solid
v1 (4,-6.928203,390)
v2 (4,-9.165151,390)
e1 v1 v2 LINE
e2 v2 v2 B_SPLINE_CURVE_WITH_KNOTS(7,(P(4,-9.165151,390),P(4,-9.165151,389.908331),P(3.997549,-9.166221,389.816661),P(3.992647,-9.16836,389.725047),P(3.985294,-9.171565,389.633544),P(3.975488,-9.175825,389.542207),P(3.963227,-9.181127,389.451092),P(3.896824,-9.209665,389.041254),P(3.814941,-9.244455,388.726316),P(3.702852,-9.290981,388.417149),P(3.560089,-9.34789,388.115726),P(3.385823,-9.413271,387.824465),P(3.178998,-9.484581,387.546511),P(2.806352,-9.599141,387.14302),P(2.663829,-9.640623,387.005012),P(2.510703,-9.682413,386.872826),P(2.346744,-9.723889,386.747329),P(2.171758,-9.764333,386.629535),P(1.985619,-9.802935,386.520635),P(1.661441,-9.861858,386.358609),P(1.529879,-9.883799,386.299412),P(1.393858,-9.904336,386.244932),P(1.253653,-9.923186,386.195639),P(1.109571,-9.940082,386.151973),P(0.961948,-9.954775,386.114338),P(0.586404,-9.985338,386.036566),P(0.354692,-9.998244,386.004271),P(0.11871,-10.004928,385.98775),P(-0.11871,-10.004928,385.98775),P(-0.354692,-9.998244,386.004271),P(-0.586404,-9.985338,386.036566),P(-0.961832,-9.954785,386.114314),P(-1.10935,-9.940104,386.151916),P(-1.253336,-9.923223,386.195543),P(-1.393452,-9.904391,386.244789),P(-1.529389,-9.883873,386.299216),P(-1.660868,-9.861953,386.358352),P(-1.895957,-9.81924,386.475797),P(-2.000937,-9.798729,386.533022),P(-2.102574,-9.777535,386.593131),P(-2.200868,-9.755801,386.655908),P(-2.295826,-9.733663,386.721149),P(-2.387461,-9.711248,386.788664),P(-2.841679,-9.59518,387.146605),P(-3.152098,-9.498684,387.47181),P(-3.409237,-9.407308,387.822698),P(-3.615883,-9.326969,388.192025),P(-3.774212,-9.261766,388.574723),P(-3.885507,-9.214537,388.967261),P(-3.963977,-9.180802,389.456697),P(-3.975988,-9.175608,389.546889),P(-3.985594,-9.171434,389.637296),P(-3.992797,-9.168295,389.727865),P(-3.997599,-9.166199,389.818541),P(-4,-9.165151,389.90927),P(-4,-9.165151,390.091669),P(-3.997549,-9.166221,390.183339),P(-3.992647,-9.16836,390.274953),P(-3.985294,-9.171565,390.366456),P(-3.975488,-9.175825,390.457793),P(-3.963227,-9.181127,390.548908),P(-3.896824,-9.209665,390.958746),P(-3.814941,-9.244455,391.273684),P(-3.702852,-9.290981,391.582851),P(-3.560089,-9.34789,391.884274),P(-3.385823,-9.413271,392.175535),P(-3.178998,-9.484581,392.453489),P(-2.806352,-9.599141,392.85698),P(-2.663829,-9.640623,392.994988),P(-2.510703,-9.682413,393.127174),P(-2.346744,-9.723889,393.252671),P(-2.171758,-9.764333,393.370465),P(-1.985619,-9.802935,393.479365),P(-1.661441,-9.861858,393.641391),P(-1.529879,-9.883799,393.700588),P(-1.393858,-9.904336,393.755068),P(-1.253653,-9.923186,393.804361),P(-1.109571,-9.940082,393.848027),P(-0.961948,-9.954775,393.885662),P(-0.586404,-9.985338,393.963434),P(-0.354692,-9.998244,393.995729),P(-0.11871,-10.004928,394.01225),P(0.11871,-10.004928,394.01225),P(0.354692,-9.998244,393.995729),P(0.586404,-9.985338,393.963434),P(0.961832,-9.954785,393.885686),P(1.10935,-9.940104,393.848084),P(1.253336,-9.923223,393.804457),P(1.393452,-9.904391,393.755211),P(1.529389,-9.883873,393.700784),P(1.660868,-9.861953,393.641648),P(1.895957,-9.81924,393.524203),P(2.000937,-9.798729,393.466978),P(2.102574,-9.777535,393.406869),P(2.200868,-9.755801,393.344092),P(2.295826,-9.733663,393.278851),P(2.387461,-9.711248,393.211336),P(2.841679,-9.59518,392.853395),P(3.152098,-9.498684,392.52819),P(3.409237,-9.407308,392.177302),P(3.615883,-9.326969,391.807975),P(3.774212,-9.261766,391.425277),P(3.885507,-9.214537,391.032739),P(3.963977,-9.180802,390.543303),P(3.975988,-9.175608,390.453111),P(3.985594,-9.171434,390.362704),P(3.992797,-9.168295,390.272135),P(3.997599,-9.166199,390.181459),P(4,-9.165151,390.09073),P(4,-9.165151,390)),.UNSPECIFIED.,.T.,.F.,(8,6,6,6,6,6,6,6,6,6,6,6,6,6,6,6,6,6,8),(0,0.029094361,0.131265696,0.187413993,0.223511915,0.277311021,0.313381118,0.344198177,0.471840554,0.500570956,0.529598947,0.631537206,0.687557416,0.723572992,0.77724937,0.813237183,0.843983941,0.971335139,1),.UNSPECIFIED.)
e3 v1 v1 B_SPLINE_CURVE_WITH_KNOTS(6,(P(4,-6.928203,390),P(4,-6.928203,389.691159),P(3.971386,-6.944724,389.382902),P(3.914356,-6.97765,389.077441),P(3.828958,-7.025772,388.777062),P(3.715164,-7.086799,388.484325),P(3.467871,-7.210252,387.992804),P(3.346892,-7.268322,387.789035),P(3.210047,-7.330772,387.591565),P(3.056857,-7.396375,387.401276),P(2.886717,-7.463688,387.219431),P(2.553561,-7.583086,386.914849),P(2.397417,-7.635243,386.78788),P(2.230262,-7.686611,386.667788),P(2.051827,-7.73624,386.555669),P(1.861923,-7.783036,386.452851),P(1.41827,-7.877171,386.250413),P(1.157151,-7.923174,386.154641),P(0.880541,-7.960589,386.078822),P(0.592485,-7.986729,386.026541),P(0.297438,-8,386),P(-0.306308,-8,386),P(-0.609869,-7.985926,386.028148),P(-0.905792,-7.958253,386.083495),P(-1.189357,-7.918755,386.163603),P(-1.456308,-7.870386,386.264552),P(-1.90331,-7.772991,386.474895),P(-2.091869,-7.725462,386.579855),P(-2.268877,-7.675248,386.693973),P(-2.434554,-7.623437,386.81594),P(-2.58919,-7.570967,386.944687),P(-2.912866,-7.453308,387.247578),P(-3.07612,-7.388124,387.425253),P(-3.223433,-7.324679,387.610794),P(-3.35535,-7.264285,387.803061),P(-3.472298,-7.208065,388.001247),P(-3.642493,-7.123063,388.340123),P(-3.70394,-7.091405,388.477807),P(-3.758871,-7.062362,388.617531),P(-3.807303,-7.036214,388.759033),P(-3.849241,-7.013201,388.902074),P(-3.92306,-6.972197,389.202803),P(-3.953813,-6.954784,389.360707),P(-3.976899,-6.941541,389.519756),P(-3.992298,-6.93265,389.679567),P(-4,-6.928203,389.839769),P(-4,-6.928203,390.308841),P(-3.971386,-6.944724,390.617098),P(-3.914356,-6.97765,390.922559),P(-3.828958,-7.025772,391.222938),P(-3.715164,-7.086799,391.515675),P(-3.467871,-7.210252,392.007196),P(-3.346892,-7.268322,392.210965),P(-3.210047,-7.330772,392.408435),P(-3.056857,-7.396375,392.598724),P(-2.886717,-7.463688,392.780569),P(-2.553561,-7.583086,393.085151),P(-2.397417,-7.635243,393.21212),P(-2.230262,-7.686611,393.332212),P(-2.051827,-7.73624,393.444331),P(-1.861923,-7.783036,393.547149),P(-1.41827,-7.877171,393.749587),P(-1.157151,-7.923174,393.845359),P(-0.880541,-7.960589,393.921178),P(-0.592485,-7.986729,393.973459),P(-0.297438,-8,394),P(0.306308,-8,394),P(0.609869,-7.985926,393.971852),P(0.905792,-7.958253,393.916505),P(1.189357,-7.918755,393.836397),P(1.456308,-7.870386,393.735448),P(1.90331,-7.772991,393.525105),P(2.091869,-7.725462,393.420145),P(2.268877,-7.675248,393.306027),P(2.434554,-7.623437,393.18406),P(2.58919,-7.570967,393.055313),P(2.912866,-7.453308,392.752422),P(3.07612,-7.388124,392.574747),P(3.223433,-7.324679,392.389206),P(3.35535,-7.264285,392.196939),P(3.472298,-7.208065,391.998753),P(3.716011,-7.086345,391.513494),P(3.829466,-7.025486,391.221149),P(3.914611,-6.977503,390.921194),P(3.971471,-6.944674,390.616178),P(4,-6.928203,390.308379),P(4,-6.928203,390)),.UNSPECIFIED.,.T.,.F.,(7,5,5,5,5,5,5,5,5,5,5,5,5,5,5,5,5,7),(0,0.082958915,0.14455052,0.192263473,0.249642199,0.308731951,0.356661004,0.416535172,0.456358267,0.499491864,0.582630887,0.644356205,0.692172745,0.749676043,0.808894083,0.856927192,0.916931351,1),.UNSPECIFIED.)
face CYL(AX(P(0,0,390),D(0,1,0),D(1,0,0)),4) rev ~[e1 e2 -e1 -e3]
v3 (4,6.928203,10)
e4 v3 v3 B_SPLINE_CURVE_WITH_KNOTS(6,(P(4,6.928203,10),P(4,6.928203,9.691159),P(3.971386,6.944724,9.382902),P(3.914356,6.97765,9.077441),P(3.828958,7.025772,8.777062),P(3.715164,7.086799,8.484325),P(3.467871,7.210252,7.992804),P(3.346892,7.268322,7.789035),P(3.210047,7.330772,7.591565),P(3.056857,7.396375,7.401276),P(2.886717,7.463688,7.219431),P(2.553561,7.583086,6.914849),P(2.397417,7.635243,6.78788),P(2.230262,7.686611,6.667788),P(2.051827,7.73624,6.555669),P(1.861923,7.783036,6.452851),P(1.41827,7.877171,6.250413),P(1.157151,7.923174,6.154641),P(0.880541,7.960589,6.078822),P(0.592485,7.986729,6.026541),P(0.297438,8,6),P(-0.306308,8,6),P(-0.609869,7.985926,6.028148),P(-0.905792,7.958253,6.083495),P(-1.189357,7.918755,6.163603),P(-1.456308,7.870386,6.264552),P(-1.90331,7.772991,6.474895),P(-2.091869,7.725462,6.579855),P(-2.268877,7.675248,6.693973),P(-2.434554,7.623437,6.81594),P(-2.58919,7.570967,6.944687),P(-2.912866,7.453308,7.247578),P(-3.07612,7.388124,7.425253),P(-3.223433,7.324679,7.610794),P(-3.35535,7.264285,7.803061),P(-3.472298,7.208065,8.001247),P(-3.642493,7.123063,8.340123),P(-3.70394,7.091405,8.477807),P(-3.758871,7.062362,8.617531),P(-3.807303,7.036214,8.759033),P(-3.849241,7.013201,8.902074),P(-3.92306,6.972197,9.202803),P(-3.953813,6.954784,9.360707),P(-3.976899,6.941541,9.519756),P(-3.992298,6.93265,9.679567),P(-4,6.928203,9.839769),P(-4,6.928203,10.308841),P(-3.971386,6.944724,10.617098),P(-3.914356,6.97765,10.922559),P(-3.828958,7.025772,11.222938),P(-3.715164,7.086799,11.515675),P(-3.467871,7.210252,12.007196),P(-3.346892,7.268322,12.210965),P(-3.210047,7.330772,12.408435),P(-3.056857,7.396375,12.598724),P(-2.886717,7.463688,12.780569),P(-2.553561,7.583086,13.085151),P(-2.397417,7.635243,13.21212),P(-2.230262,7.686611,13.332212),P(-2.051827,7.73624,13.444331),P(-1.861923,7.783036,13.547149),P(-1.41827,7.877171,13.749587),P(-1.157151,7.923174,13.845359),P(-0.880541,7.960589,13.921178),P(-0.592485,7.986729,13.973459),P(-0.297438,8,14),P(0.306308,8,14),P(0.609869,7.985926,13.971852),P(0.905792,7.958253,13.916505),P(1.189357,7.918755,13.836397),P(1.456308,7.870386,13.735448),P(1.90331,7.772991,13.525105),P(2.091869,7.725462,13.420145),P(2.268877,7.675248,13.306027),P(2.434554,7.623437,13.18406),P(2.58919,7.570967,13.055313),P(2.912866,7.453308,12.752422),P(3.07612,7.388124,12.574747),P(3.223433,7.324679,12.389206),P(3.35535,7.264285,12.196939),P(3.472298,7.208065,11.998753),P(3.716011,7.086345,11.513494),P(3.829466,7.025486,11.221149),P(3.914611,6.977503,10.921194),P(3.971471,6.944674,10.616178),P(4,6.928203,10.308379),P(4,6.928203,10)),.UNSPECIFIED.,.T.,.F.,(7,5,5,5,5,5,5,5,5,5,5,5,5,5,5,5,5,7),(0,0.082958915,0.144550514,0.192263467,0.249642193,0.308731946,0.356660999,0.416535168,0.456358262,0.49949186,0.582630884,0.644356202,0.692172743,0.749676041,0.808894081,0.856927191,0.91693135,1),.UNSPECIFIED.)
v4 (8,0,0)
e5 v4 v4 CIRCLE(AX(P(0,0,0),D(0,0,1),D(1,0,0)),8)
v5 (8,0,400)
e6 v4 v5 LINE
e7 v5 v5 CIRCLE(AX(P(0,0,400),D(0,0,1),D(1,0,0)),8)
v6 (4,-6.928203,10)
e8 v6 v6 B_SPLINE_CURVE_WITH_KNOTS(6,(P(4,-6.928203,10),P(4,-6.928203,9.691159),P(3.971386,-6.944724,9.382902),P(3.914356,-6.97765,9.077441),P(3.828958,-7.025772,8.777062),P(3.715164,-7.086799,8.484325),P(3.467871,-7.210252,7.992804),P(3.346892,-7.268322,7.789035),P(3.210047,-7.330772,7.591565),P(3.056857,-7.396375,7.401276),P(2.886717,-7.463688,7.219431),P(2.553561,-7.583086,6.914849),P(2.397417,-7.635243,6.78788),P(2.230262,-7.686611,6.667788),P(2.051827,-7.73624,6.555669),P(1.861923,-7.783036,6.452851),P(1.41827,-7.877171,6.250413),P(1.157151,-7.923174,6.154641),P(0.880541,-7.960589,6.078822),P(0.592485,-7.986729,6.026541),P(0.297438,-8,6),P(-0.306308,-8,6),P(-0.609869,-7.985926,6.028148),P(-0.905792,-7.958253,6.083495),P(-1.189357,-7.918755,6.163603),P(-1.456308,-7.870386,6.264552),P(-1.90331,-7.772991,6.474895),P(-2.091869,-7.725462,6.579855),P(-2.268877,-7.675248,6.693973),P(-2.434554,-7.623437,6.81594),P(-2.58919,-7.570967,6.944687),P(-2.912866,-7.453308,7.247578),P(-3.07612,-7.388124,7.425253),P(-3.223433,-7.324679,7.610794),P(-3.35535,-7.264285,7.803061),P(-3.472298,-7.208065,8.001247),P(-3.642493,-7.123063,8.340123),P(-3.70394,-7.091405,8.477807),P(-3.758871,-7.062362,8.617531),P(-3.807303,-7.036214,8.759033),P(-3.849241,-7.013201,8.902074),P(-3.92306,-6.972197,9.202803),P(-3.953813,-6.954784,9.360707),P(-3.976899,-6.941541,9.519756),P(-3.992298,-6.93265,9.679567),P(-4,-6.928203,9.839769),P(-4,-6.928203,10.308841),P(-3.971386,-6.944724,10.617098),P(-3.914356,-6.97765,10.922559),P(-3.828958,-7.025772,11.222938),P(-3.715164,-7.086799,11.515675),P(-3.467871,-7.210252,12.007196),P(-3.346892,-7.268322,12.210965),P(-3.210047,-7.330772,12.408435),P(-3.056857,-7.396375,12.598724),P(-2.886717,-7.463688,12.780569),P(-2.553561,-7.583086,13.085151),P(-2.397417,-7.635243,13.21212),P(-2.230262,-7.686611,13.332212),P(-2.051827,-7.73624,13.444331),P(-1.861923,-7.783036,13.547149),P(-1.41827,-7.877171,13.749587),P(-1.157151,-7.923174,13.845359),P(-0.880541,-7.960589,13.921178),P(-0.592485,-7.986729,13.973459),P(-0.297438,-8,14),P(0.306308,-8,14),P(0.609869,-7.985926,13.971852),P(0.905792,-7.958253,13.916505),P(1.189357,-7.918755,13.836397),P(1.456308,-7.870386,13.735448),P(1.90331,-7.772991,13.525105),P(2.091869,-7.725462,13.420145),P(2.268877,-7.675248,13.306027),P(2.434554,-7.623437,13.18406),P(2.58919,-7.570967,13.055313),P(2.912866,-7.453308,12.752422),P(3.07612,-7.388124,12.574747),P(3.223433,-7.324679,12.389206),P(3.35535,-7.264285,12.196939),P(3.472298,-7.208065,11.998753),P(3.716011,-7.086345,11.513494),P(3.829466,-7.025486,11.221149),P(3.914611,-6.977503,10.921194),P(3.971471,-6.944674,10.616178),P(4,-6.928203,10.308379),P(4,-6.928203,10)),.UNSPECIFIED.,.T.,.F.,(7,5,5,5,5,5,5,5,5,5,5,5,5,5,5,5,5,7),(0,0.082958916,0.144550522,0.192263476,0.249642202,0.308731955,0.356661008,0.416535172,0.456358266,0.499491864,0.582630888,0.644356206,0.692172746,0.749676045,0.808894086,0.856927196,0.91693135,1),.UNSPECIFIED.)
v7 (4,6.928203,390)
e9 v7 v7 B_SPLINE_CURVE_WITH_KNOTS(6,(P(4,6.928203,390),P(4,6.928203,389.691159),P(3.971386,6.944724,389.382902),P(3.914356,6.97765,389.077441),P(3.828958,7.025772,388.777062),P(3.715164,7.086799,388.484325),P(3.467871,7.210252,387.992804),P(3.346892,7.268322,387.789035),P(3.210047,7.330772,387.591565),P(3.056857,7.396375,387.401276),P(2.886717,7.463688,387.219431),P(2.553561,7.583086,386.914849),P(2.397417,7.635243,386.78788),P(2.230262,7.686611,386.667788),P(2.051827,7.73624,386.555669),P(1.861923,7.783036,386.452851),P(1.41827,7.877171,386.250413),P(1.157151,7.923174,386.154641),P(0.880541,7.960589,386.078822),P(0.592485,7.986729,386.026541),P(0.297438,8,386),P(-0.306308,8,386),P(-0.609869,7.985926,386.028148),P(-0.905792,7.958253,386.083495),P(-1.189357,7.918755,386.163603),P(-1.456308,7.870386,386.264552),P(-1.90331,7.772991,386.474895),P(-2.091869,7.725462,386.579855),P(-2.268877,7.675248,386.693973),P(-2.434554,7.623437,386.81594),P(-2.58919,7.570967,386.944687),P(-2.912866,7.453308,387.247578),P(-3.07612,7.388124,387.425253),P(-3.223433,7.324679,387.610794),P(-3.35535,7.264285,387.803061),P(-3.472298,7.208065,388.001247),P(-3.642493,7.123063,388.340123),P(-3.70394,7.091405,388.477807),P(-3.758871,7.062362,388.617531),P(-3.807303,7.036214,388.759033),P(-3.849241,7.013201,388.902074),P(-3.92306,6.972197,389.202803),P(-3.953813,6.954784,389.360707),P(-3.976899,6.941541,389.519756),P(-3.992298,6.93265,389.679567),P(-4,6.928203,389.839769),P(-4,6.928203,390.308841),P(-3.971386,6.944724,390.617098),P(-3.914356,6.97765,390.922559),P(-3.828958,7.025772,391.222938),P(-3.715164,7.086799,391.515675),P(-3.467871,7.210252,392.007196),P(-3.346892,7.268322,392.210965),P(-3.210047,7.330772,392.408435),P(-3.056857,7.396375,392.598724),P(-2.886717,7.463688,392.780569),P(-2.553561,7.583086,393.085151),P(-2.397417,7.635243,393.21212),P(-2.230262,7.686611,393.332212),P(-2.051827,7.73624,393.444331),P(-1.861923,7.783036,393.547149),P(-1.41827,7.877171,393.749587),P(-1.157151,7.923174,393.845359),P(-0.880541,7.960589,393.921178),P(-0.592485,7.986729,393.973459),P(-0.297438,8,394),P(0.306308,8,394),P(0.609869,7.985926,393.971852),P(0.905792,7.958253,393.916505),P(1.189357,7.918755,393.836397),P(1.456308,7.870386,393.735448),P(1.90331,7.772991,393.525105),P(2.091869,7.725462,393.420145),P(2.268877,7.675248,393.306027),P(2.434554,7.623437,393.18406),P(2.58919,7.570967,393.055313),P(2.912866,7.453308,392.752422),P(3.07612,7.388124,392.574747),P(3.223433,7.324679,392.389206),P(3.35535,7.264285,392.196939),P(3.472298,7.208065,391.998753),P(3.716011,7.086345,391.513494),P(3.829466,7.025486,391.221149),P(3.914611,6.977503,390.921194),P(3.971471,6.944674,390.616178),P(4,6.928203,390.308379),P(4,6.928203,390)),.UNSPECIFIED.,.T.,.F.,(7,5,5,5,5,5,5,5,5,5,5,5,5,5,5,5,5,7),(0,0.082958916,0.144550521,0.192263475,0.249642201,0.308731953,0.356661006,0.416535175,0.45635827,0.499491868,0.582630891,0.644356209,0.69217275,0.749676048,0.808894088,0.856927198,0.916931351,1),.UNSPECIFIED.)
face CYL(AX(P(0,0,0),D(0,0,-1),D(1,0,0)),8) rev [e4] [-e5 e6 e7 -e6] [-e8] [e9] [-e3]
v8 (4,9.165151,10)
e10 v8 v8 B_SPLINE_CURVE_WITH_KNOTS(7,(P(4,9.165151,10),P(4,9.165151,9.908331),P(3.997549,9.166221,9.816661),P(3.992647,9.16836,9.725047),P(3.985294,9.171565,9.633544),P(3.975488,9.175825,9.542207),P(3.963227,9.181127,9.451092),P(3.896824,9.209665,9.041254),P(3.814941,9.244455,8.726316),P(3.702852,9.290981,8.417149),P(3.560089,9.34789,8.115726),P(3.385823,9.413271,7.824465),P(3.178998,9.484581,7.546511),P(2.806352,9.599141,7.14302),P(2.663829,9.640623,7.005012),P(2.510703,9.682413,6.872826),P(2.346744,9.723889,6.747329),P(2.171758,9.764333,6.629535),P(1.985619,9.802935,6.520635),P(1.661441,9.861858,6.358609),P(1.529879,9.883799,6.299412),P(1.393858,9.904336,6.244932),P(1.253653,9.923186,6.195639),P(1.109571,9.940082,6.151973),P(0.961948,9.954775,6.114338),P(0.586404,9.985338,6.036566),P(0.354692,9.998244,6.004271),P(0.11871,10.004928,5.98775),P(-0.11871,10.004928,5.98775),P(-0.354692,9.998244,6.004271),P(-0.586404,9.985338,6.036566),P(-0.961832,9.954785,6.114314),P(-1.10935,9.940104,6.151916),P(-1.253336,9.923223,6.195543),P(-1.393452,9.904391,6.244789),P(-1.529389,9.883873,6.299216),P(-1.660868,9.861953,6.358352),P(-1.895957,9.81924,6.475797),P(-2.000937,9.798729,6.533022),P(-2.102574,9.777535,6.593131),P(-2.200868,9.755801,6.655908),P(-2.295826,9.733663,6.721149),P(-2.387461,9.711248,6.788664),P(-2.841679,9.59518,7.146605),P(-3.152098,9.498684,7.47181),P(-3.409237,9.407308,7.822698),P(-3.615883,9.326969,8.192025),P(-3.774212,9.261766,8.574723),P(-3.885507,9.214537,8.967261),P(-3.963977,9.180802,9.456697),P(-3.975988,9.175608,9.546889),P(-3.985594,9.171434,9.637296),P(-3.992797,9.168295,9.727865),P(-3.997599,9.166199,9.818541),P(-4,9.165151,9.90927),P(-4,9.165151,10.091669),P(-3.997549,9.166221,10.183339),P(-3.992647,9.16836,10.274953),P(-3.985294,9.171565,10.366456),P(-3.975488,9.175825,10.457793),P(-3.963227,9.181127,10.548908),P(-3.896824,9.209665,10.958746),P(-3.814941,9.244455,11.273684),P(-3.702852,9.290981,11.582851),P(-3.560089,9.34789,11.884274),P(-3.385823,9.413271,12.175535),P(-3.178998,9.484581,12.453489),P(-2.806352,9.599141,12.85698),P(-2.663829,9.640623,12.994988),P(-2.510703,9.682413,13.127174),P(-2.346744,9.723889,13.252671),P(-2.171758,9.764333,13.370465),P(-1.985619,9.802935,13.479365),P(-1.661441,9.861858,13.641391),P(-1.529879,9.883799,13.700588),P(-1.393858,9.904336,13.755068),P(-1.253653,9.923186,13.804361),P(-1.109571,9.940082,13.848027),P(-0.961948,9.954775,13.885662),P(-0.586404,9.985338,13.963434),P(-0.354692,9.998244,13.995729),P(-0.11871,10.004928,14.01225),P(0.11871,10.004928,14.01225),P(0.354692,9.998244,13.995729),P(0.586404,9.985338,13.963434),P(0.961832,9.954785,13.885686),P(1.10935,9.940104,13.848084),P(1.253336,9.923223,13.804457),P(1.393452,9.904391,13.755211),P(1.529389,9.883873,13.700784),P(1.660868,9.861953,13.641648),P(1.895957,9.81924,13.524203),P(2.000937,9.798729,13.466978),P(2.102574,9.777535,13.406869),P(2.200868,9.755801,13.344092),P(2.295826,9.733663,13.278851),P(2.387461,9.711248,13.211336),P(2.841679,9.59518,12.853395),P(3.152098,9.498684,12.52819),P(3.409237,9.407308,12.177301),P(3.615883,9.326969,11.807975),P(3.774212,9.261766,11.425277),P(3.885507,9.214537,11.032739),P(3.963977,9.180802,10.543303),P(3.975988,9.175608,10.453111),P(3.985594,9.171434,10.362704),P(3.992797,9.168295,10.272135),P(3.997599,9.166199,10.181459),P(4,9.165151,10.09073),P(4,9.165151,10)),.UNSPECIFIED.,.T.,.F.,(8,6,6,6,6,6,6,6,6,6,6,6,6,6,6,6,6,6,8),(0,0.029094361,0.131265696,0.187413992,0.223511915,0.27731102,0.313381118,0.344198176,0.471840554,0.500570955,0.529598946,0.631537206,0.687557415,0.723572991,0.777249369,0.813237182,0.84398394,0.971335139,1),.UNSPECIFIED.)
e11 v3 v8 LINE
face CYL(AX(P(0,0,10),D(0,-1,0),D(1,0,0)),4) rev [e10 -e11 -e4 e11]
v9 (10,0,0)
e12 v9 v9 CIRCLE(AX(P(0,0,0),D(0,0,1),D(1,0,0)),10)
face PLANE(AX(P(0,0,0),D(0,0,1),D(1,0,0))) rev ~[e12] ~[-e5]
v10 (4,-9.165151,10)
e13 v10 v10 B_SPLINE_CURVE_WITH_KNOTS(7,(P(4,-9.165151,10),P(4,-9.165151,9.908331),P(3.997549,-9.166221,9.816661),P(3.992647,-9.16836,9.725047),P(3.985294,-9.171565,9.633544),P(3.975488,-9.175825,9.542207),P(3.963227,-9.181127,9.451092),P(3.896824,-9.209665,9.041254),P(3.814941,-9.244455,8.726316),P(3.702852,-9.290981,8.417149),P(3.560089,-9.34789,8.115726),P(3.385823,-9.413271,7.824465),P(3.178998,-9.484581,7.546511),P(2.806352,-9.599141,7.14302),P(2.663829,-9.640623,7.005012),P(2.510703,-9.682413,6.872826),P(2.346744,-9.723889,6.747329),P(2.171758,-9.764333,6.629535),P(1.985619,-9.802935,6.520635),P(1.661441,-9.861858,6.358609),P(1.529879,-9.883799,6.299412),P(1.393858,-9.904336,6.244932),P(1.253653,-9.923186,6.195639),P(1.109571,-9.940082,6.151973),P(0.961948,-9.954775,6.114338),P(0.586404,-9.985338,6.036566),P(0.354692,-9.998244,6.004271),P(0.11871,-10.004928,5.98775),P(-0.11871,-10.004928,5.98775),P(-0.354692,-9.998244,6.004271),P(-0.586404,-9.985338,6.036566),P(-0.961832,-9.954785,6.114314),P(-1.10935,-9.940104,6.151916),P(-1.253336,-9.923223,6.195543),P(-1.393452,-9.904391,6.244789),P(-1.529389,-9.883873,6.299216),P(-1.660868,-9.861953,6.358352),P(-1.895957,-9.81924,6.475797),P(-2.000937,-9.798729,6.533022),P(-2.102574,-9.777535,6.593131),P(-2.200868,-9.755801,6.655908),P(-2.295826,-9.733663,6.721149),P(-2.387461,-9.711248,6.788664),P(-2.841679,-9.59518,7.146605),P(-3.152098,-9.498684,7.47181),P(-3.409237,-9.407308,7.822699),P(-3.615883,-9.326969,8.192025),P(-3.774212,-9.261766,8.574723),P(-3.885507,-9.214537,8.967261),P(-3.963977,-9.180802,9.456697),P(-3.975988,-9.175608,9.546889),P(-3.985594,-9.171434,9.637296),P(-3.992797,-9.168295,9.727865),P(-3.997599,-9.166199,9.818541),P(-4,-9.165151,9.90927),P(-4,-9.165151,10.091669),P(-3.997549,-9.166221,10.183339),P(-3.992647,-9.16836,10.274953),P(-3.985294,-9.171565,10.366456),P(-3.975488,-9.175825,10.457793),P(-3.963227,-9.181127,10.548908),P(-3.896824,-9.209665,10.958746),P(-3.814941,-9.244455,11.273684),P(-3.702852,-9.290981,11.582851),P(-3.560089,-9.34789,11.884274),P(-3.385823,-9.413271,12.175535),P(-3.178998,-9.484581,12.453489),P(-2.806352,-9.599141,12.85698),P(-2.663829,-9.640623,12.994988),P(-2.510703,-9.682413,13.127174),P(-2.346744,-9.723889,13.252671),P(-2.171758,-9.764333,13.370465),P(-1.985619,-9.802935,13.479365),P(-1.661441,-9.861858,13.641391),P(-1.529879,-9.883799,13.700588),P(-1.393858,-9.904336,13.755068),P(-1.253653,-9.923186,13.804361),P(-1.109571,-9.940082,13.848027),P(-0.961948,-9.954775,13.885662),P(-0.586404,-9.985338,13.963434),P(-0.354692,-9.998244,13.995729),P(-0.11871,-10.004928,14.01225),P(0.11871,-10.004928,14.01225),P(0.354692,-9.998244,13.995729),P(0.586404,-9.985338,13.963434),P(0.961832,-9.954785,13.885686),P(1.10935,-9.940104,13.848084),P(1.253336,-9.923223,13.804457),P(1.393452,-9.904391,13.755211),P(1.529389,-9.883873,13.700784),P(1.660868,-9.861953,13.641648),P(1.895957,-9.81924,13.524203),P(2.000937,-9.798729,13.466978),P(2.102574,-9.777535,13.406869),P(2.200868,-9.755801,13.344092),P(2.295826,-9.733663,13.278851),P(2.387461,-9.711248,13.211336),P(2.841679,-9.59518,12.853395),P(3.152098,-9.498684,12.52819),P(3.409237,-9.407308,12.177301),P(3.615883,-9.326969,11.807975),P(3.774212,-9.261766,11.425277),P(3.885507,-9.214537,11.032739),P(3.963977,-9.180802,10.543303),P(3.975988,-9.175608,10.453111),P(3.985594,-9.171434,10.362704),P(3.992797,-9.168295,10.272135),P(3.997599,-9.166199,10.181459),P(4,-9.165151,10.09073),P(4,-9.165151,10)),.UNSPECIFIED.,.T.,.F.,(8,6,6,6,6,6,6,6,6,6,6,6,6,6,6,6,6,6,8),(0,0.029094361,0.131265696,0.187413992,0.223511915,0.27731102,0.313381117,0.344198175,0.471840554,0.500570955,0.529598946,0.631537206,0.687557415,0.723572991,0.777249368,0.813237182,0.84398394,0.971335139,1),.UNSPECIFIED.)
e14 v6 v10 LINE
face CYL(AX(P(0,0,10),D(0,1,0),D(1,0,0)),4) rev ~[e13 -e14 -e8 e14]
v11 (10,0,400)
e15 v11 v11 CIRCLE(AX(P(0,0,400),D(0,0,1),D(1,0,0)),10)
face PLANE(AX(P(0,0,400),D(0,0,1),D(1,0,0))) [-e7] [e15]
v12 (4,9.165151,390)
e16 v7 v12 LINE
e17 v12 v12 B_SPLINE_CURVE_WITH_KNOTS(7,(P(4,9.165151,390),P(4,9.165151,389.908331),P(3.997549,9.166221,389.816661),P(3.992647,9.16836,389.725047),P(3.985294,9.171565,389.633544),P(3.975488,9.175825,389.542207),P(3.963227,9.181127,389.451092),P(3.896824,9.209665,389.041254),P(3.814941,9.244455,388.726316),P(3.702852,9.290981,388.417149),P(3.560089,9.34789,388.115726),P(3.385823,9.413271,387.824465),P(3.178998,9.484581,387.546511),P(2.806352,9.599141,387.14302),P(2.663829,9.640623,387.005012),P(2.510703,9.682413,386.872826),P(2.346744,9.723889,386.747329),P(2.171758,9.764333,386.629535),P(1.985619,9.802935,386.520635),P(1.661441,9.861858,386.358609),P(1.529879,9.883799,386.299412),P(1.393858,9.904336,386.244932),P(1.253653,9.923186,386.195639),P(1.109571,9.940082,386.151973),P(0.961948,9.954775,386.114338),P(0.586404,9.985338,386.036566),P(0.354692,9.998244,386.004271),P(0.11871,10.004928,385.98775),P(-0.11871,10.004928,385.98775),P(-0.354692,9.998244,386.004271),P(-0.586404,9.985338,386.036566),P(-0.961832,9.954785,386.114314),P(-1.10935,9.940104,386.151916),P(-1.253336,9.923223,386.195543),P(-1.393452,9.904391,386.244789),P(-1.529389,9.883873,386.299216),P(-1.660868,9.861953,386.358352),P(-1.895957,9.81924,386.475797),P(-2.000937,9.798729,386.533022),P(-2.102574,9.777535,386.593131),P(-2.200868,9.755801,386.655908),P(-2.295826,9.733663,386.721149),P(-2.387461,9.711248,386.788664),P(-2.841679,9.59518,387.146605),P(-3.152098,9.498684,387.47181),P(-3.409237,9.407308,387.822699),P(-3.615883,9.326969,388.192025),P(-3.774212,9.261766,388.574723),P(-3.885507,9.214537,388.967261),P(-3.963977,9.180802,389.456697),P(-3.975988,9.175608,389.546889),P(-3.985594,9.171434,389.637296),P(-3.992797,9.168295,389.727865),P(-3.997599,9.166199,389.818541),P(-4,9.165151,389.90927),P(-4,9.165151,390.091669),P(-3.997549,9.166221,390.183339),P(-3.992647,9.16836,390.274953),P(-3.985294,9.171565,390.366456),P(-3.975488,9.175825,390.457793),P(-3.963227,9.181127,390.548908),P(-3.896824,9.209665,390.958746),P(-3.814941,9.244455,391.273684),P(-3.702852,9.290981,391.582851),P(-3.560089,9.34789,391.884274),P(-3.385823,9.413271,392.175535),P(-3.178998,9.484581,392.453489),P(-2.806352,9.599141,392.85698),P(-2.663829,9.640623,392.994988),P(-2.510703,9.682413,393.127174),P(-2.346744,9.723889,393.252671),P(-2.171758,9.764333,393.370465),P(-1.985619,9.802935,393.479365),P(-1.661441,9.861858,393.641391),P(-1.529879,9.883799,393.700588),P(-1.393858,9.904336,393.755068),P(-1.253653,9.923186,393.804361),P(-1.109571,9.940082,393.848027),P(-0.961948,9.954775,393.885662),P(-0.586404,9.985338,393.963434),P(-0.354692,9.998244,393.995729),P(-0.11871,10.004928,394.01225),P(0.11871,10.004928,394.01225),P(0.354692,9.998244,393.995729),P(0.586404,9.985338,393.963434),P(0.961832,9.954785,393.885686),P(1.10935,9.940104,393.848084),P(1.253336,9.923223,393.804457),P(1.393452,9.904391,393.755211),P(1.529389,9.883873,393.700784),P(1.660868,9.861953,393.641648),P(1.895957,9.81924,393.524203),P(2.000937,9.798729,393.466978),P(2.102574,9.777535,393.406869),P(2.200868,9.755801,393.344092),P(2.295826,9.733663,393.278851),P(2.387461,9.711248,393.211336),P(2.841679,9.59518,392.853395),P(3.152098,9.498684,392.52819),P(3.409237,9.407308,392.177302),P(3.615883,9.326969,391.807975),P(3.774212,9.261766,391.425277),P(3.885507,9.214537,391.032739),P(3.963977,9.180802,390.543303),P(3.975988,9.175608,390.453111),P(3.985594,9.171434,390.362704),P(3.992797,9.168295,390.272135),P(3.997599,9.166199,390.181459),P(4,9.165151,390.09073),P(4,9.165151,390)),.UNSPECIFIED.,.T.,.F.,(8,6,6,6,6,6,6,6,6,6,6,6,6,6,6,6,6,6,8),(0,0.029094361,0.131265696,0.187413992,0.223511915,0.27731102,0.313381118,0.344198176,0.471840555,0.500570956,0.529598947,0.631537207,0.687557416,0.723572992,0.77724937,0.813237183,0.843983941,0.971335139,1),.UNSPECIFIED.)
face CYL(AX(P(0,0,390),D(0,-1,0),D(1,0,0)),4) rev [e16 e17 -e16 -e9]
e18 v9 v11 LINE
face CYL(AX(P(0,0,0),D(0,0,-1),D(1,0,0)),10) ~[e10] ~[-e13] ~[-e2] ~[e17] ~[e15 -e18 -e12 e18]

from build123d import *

# Parameters (mm, degrees)
SKETCH_1_R               = 10
SKETCH_1_R_2             = 8
EXTRUDE_1_DEPTH          = 400
SKETCH_2_R               = 4
CUT_EXTRUDE_1_DEPTH      = 11
CUT_EXTRUDE_1_DEPTH_BACK = 11


with BuildPart() as part:
    # 草图1 → 凸台-拉伸1 (new body)
    with BuildSketch(Plane.XY):
        Circle(SKETCH_1_R)
        Circle(SKETCH_1_R_2, mode=Mode.SUBTRACT)
    extrude(amount=EXTRUDE_1_DEPTH)

    # 草图2 → 切除-拉伸1 (cut, two sides)
    with BuildSketch(Plane(origin=(0, 0, 0), x_dir=(1, 0, 0), z_dir=(0, 1, 0))) as cut_extrude_1_sk:
        with Locations((0, -10)):
            Circle(SKETCH_2_R)
        with Locations((0, -390)):
            Circle(SKETCH_2_R)
    extrude(amount=CUT_EXTRUDE_1_DEPTH, mode=Mode.SUBTRACT)
    extrude(cut_extrude_1_sk.sketch, amount=-CUT_EXTRUDE_1_DEPTH_BACK, mode=Mode.SUBTRACT)


solid = part.part
